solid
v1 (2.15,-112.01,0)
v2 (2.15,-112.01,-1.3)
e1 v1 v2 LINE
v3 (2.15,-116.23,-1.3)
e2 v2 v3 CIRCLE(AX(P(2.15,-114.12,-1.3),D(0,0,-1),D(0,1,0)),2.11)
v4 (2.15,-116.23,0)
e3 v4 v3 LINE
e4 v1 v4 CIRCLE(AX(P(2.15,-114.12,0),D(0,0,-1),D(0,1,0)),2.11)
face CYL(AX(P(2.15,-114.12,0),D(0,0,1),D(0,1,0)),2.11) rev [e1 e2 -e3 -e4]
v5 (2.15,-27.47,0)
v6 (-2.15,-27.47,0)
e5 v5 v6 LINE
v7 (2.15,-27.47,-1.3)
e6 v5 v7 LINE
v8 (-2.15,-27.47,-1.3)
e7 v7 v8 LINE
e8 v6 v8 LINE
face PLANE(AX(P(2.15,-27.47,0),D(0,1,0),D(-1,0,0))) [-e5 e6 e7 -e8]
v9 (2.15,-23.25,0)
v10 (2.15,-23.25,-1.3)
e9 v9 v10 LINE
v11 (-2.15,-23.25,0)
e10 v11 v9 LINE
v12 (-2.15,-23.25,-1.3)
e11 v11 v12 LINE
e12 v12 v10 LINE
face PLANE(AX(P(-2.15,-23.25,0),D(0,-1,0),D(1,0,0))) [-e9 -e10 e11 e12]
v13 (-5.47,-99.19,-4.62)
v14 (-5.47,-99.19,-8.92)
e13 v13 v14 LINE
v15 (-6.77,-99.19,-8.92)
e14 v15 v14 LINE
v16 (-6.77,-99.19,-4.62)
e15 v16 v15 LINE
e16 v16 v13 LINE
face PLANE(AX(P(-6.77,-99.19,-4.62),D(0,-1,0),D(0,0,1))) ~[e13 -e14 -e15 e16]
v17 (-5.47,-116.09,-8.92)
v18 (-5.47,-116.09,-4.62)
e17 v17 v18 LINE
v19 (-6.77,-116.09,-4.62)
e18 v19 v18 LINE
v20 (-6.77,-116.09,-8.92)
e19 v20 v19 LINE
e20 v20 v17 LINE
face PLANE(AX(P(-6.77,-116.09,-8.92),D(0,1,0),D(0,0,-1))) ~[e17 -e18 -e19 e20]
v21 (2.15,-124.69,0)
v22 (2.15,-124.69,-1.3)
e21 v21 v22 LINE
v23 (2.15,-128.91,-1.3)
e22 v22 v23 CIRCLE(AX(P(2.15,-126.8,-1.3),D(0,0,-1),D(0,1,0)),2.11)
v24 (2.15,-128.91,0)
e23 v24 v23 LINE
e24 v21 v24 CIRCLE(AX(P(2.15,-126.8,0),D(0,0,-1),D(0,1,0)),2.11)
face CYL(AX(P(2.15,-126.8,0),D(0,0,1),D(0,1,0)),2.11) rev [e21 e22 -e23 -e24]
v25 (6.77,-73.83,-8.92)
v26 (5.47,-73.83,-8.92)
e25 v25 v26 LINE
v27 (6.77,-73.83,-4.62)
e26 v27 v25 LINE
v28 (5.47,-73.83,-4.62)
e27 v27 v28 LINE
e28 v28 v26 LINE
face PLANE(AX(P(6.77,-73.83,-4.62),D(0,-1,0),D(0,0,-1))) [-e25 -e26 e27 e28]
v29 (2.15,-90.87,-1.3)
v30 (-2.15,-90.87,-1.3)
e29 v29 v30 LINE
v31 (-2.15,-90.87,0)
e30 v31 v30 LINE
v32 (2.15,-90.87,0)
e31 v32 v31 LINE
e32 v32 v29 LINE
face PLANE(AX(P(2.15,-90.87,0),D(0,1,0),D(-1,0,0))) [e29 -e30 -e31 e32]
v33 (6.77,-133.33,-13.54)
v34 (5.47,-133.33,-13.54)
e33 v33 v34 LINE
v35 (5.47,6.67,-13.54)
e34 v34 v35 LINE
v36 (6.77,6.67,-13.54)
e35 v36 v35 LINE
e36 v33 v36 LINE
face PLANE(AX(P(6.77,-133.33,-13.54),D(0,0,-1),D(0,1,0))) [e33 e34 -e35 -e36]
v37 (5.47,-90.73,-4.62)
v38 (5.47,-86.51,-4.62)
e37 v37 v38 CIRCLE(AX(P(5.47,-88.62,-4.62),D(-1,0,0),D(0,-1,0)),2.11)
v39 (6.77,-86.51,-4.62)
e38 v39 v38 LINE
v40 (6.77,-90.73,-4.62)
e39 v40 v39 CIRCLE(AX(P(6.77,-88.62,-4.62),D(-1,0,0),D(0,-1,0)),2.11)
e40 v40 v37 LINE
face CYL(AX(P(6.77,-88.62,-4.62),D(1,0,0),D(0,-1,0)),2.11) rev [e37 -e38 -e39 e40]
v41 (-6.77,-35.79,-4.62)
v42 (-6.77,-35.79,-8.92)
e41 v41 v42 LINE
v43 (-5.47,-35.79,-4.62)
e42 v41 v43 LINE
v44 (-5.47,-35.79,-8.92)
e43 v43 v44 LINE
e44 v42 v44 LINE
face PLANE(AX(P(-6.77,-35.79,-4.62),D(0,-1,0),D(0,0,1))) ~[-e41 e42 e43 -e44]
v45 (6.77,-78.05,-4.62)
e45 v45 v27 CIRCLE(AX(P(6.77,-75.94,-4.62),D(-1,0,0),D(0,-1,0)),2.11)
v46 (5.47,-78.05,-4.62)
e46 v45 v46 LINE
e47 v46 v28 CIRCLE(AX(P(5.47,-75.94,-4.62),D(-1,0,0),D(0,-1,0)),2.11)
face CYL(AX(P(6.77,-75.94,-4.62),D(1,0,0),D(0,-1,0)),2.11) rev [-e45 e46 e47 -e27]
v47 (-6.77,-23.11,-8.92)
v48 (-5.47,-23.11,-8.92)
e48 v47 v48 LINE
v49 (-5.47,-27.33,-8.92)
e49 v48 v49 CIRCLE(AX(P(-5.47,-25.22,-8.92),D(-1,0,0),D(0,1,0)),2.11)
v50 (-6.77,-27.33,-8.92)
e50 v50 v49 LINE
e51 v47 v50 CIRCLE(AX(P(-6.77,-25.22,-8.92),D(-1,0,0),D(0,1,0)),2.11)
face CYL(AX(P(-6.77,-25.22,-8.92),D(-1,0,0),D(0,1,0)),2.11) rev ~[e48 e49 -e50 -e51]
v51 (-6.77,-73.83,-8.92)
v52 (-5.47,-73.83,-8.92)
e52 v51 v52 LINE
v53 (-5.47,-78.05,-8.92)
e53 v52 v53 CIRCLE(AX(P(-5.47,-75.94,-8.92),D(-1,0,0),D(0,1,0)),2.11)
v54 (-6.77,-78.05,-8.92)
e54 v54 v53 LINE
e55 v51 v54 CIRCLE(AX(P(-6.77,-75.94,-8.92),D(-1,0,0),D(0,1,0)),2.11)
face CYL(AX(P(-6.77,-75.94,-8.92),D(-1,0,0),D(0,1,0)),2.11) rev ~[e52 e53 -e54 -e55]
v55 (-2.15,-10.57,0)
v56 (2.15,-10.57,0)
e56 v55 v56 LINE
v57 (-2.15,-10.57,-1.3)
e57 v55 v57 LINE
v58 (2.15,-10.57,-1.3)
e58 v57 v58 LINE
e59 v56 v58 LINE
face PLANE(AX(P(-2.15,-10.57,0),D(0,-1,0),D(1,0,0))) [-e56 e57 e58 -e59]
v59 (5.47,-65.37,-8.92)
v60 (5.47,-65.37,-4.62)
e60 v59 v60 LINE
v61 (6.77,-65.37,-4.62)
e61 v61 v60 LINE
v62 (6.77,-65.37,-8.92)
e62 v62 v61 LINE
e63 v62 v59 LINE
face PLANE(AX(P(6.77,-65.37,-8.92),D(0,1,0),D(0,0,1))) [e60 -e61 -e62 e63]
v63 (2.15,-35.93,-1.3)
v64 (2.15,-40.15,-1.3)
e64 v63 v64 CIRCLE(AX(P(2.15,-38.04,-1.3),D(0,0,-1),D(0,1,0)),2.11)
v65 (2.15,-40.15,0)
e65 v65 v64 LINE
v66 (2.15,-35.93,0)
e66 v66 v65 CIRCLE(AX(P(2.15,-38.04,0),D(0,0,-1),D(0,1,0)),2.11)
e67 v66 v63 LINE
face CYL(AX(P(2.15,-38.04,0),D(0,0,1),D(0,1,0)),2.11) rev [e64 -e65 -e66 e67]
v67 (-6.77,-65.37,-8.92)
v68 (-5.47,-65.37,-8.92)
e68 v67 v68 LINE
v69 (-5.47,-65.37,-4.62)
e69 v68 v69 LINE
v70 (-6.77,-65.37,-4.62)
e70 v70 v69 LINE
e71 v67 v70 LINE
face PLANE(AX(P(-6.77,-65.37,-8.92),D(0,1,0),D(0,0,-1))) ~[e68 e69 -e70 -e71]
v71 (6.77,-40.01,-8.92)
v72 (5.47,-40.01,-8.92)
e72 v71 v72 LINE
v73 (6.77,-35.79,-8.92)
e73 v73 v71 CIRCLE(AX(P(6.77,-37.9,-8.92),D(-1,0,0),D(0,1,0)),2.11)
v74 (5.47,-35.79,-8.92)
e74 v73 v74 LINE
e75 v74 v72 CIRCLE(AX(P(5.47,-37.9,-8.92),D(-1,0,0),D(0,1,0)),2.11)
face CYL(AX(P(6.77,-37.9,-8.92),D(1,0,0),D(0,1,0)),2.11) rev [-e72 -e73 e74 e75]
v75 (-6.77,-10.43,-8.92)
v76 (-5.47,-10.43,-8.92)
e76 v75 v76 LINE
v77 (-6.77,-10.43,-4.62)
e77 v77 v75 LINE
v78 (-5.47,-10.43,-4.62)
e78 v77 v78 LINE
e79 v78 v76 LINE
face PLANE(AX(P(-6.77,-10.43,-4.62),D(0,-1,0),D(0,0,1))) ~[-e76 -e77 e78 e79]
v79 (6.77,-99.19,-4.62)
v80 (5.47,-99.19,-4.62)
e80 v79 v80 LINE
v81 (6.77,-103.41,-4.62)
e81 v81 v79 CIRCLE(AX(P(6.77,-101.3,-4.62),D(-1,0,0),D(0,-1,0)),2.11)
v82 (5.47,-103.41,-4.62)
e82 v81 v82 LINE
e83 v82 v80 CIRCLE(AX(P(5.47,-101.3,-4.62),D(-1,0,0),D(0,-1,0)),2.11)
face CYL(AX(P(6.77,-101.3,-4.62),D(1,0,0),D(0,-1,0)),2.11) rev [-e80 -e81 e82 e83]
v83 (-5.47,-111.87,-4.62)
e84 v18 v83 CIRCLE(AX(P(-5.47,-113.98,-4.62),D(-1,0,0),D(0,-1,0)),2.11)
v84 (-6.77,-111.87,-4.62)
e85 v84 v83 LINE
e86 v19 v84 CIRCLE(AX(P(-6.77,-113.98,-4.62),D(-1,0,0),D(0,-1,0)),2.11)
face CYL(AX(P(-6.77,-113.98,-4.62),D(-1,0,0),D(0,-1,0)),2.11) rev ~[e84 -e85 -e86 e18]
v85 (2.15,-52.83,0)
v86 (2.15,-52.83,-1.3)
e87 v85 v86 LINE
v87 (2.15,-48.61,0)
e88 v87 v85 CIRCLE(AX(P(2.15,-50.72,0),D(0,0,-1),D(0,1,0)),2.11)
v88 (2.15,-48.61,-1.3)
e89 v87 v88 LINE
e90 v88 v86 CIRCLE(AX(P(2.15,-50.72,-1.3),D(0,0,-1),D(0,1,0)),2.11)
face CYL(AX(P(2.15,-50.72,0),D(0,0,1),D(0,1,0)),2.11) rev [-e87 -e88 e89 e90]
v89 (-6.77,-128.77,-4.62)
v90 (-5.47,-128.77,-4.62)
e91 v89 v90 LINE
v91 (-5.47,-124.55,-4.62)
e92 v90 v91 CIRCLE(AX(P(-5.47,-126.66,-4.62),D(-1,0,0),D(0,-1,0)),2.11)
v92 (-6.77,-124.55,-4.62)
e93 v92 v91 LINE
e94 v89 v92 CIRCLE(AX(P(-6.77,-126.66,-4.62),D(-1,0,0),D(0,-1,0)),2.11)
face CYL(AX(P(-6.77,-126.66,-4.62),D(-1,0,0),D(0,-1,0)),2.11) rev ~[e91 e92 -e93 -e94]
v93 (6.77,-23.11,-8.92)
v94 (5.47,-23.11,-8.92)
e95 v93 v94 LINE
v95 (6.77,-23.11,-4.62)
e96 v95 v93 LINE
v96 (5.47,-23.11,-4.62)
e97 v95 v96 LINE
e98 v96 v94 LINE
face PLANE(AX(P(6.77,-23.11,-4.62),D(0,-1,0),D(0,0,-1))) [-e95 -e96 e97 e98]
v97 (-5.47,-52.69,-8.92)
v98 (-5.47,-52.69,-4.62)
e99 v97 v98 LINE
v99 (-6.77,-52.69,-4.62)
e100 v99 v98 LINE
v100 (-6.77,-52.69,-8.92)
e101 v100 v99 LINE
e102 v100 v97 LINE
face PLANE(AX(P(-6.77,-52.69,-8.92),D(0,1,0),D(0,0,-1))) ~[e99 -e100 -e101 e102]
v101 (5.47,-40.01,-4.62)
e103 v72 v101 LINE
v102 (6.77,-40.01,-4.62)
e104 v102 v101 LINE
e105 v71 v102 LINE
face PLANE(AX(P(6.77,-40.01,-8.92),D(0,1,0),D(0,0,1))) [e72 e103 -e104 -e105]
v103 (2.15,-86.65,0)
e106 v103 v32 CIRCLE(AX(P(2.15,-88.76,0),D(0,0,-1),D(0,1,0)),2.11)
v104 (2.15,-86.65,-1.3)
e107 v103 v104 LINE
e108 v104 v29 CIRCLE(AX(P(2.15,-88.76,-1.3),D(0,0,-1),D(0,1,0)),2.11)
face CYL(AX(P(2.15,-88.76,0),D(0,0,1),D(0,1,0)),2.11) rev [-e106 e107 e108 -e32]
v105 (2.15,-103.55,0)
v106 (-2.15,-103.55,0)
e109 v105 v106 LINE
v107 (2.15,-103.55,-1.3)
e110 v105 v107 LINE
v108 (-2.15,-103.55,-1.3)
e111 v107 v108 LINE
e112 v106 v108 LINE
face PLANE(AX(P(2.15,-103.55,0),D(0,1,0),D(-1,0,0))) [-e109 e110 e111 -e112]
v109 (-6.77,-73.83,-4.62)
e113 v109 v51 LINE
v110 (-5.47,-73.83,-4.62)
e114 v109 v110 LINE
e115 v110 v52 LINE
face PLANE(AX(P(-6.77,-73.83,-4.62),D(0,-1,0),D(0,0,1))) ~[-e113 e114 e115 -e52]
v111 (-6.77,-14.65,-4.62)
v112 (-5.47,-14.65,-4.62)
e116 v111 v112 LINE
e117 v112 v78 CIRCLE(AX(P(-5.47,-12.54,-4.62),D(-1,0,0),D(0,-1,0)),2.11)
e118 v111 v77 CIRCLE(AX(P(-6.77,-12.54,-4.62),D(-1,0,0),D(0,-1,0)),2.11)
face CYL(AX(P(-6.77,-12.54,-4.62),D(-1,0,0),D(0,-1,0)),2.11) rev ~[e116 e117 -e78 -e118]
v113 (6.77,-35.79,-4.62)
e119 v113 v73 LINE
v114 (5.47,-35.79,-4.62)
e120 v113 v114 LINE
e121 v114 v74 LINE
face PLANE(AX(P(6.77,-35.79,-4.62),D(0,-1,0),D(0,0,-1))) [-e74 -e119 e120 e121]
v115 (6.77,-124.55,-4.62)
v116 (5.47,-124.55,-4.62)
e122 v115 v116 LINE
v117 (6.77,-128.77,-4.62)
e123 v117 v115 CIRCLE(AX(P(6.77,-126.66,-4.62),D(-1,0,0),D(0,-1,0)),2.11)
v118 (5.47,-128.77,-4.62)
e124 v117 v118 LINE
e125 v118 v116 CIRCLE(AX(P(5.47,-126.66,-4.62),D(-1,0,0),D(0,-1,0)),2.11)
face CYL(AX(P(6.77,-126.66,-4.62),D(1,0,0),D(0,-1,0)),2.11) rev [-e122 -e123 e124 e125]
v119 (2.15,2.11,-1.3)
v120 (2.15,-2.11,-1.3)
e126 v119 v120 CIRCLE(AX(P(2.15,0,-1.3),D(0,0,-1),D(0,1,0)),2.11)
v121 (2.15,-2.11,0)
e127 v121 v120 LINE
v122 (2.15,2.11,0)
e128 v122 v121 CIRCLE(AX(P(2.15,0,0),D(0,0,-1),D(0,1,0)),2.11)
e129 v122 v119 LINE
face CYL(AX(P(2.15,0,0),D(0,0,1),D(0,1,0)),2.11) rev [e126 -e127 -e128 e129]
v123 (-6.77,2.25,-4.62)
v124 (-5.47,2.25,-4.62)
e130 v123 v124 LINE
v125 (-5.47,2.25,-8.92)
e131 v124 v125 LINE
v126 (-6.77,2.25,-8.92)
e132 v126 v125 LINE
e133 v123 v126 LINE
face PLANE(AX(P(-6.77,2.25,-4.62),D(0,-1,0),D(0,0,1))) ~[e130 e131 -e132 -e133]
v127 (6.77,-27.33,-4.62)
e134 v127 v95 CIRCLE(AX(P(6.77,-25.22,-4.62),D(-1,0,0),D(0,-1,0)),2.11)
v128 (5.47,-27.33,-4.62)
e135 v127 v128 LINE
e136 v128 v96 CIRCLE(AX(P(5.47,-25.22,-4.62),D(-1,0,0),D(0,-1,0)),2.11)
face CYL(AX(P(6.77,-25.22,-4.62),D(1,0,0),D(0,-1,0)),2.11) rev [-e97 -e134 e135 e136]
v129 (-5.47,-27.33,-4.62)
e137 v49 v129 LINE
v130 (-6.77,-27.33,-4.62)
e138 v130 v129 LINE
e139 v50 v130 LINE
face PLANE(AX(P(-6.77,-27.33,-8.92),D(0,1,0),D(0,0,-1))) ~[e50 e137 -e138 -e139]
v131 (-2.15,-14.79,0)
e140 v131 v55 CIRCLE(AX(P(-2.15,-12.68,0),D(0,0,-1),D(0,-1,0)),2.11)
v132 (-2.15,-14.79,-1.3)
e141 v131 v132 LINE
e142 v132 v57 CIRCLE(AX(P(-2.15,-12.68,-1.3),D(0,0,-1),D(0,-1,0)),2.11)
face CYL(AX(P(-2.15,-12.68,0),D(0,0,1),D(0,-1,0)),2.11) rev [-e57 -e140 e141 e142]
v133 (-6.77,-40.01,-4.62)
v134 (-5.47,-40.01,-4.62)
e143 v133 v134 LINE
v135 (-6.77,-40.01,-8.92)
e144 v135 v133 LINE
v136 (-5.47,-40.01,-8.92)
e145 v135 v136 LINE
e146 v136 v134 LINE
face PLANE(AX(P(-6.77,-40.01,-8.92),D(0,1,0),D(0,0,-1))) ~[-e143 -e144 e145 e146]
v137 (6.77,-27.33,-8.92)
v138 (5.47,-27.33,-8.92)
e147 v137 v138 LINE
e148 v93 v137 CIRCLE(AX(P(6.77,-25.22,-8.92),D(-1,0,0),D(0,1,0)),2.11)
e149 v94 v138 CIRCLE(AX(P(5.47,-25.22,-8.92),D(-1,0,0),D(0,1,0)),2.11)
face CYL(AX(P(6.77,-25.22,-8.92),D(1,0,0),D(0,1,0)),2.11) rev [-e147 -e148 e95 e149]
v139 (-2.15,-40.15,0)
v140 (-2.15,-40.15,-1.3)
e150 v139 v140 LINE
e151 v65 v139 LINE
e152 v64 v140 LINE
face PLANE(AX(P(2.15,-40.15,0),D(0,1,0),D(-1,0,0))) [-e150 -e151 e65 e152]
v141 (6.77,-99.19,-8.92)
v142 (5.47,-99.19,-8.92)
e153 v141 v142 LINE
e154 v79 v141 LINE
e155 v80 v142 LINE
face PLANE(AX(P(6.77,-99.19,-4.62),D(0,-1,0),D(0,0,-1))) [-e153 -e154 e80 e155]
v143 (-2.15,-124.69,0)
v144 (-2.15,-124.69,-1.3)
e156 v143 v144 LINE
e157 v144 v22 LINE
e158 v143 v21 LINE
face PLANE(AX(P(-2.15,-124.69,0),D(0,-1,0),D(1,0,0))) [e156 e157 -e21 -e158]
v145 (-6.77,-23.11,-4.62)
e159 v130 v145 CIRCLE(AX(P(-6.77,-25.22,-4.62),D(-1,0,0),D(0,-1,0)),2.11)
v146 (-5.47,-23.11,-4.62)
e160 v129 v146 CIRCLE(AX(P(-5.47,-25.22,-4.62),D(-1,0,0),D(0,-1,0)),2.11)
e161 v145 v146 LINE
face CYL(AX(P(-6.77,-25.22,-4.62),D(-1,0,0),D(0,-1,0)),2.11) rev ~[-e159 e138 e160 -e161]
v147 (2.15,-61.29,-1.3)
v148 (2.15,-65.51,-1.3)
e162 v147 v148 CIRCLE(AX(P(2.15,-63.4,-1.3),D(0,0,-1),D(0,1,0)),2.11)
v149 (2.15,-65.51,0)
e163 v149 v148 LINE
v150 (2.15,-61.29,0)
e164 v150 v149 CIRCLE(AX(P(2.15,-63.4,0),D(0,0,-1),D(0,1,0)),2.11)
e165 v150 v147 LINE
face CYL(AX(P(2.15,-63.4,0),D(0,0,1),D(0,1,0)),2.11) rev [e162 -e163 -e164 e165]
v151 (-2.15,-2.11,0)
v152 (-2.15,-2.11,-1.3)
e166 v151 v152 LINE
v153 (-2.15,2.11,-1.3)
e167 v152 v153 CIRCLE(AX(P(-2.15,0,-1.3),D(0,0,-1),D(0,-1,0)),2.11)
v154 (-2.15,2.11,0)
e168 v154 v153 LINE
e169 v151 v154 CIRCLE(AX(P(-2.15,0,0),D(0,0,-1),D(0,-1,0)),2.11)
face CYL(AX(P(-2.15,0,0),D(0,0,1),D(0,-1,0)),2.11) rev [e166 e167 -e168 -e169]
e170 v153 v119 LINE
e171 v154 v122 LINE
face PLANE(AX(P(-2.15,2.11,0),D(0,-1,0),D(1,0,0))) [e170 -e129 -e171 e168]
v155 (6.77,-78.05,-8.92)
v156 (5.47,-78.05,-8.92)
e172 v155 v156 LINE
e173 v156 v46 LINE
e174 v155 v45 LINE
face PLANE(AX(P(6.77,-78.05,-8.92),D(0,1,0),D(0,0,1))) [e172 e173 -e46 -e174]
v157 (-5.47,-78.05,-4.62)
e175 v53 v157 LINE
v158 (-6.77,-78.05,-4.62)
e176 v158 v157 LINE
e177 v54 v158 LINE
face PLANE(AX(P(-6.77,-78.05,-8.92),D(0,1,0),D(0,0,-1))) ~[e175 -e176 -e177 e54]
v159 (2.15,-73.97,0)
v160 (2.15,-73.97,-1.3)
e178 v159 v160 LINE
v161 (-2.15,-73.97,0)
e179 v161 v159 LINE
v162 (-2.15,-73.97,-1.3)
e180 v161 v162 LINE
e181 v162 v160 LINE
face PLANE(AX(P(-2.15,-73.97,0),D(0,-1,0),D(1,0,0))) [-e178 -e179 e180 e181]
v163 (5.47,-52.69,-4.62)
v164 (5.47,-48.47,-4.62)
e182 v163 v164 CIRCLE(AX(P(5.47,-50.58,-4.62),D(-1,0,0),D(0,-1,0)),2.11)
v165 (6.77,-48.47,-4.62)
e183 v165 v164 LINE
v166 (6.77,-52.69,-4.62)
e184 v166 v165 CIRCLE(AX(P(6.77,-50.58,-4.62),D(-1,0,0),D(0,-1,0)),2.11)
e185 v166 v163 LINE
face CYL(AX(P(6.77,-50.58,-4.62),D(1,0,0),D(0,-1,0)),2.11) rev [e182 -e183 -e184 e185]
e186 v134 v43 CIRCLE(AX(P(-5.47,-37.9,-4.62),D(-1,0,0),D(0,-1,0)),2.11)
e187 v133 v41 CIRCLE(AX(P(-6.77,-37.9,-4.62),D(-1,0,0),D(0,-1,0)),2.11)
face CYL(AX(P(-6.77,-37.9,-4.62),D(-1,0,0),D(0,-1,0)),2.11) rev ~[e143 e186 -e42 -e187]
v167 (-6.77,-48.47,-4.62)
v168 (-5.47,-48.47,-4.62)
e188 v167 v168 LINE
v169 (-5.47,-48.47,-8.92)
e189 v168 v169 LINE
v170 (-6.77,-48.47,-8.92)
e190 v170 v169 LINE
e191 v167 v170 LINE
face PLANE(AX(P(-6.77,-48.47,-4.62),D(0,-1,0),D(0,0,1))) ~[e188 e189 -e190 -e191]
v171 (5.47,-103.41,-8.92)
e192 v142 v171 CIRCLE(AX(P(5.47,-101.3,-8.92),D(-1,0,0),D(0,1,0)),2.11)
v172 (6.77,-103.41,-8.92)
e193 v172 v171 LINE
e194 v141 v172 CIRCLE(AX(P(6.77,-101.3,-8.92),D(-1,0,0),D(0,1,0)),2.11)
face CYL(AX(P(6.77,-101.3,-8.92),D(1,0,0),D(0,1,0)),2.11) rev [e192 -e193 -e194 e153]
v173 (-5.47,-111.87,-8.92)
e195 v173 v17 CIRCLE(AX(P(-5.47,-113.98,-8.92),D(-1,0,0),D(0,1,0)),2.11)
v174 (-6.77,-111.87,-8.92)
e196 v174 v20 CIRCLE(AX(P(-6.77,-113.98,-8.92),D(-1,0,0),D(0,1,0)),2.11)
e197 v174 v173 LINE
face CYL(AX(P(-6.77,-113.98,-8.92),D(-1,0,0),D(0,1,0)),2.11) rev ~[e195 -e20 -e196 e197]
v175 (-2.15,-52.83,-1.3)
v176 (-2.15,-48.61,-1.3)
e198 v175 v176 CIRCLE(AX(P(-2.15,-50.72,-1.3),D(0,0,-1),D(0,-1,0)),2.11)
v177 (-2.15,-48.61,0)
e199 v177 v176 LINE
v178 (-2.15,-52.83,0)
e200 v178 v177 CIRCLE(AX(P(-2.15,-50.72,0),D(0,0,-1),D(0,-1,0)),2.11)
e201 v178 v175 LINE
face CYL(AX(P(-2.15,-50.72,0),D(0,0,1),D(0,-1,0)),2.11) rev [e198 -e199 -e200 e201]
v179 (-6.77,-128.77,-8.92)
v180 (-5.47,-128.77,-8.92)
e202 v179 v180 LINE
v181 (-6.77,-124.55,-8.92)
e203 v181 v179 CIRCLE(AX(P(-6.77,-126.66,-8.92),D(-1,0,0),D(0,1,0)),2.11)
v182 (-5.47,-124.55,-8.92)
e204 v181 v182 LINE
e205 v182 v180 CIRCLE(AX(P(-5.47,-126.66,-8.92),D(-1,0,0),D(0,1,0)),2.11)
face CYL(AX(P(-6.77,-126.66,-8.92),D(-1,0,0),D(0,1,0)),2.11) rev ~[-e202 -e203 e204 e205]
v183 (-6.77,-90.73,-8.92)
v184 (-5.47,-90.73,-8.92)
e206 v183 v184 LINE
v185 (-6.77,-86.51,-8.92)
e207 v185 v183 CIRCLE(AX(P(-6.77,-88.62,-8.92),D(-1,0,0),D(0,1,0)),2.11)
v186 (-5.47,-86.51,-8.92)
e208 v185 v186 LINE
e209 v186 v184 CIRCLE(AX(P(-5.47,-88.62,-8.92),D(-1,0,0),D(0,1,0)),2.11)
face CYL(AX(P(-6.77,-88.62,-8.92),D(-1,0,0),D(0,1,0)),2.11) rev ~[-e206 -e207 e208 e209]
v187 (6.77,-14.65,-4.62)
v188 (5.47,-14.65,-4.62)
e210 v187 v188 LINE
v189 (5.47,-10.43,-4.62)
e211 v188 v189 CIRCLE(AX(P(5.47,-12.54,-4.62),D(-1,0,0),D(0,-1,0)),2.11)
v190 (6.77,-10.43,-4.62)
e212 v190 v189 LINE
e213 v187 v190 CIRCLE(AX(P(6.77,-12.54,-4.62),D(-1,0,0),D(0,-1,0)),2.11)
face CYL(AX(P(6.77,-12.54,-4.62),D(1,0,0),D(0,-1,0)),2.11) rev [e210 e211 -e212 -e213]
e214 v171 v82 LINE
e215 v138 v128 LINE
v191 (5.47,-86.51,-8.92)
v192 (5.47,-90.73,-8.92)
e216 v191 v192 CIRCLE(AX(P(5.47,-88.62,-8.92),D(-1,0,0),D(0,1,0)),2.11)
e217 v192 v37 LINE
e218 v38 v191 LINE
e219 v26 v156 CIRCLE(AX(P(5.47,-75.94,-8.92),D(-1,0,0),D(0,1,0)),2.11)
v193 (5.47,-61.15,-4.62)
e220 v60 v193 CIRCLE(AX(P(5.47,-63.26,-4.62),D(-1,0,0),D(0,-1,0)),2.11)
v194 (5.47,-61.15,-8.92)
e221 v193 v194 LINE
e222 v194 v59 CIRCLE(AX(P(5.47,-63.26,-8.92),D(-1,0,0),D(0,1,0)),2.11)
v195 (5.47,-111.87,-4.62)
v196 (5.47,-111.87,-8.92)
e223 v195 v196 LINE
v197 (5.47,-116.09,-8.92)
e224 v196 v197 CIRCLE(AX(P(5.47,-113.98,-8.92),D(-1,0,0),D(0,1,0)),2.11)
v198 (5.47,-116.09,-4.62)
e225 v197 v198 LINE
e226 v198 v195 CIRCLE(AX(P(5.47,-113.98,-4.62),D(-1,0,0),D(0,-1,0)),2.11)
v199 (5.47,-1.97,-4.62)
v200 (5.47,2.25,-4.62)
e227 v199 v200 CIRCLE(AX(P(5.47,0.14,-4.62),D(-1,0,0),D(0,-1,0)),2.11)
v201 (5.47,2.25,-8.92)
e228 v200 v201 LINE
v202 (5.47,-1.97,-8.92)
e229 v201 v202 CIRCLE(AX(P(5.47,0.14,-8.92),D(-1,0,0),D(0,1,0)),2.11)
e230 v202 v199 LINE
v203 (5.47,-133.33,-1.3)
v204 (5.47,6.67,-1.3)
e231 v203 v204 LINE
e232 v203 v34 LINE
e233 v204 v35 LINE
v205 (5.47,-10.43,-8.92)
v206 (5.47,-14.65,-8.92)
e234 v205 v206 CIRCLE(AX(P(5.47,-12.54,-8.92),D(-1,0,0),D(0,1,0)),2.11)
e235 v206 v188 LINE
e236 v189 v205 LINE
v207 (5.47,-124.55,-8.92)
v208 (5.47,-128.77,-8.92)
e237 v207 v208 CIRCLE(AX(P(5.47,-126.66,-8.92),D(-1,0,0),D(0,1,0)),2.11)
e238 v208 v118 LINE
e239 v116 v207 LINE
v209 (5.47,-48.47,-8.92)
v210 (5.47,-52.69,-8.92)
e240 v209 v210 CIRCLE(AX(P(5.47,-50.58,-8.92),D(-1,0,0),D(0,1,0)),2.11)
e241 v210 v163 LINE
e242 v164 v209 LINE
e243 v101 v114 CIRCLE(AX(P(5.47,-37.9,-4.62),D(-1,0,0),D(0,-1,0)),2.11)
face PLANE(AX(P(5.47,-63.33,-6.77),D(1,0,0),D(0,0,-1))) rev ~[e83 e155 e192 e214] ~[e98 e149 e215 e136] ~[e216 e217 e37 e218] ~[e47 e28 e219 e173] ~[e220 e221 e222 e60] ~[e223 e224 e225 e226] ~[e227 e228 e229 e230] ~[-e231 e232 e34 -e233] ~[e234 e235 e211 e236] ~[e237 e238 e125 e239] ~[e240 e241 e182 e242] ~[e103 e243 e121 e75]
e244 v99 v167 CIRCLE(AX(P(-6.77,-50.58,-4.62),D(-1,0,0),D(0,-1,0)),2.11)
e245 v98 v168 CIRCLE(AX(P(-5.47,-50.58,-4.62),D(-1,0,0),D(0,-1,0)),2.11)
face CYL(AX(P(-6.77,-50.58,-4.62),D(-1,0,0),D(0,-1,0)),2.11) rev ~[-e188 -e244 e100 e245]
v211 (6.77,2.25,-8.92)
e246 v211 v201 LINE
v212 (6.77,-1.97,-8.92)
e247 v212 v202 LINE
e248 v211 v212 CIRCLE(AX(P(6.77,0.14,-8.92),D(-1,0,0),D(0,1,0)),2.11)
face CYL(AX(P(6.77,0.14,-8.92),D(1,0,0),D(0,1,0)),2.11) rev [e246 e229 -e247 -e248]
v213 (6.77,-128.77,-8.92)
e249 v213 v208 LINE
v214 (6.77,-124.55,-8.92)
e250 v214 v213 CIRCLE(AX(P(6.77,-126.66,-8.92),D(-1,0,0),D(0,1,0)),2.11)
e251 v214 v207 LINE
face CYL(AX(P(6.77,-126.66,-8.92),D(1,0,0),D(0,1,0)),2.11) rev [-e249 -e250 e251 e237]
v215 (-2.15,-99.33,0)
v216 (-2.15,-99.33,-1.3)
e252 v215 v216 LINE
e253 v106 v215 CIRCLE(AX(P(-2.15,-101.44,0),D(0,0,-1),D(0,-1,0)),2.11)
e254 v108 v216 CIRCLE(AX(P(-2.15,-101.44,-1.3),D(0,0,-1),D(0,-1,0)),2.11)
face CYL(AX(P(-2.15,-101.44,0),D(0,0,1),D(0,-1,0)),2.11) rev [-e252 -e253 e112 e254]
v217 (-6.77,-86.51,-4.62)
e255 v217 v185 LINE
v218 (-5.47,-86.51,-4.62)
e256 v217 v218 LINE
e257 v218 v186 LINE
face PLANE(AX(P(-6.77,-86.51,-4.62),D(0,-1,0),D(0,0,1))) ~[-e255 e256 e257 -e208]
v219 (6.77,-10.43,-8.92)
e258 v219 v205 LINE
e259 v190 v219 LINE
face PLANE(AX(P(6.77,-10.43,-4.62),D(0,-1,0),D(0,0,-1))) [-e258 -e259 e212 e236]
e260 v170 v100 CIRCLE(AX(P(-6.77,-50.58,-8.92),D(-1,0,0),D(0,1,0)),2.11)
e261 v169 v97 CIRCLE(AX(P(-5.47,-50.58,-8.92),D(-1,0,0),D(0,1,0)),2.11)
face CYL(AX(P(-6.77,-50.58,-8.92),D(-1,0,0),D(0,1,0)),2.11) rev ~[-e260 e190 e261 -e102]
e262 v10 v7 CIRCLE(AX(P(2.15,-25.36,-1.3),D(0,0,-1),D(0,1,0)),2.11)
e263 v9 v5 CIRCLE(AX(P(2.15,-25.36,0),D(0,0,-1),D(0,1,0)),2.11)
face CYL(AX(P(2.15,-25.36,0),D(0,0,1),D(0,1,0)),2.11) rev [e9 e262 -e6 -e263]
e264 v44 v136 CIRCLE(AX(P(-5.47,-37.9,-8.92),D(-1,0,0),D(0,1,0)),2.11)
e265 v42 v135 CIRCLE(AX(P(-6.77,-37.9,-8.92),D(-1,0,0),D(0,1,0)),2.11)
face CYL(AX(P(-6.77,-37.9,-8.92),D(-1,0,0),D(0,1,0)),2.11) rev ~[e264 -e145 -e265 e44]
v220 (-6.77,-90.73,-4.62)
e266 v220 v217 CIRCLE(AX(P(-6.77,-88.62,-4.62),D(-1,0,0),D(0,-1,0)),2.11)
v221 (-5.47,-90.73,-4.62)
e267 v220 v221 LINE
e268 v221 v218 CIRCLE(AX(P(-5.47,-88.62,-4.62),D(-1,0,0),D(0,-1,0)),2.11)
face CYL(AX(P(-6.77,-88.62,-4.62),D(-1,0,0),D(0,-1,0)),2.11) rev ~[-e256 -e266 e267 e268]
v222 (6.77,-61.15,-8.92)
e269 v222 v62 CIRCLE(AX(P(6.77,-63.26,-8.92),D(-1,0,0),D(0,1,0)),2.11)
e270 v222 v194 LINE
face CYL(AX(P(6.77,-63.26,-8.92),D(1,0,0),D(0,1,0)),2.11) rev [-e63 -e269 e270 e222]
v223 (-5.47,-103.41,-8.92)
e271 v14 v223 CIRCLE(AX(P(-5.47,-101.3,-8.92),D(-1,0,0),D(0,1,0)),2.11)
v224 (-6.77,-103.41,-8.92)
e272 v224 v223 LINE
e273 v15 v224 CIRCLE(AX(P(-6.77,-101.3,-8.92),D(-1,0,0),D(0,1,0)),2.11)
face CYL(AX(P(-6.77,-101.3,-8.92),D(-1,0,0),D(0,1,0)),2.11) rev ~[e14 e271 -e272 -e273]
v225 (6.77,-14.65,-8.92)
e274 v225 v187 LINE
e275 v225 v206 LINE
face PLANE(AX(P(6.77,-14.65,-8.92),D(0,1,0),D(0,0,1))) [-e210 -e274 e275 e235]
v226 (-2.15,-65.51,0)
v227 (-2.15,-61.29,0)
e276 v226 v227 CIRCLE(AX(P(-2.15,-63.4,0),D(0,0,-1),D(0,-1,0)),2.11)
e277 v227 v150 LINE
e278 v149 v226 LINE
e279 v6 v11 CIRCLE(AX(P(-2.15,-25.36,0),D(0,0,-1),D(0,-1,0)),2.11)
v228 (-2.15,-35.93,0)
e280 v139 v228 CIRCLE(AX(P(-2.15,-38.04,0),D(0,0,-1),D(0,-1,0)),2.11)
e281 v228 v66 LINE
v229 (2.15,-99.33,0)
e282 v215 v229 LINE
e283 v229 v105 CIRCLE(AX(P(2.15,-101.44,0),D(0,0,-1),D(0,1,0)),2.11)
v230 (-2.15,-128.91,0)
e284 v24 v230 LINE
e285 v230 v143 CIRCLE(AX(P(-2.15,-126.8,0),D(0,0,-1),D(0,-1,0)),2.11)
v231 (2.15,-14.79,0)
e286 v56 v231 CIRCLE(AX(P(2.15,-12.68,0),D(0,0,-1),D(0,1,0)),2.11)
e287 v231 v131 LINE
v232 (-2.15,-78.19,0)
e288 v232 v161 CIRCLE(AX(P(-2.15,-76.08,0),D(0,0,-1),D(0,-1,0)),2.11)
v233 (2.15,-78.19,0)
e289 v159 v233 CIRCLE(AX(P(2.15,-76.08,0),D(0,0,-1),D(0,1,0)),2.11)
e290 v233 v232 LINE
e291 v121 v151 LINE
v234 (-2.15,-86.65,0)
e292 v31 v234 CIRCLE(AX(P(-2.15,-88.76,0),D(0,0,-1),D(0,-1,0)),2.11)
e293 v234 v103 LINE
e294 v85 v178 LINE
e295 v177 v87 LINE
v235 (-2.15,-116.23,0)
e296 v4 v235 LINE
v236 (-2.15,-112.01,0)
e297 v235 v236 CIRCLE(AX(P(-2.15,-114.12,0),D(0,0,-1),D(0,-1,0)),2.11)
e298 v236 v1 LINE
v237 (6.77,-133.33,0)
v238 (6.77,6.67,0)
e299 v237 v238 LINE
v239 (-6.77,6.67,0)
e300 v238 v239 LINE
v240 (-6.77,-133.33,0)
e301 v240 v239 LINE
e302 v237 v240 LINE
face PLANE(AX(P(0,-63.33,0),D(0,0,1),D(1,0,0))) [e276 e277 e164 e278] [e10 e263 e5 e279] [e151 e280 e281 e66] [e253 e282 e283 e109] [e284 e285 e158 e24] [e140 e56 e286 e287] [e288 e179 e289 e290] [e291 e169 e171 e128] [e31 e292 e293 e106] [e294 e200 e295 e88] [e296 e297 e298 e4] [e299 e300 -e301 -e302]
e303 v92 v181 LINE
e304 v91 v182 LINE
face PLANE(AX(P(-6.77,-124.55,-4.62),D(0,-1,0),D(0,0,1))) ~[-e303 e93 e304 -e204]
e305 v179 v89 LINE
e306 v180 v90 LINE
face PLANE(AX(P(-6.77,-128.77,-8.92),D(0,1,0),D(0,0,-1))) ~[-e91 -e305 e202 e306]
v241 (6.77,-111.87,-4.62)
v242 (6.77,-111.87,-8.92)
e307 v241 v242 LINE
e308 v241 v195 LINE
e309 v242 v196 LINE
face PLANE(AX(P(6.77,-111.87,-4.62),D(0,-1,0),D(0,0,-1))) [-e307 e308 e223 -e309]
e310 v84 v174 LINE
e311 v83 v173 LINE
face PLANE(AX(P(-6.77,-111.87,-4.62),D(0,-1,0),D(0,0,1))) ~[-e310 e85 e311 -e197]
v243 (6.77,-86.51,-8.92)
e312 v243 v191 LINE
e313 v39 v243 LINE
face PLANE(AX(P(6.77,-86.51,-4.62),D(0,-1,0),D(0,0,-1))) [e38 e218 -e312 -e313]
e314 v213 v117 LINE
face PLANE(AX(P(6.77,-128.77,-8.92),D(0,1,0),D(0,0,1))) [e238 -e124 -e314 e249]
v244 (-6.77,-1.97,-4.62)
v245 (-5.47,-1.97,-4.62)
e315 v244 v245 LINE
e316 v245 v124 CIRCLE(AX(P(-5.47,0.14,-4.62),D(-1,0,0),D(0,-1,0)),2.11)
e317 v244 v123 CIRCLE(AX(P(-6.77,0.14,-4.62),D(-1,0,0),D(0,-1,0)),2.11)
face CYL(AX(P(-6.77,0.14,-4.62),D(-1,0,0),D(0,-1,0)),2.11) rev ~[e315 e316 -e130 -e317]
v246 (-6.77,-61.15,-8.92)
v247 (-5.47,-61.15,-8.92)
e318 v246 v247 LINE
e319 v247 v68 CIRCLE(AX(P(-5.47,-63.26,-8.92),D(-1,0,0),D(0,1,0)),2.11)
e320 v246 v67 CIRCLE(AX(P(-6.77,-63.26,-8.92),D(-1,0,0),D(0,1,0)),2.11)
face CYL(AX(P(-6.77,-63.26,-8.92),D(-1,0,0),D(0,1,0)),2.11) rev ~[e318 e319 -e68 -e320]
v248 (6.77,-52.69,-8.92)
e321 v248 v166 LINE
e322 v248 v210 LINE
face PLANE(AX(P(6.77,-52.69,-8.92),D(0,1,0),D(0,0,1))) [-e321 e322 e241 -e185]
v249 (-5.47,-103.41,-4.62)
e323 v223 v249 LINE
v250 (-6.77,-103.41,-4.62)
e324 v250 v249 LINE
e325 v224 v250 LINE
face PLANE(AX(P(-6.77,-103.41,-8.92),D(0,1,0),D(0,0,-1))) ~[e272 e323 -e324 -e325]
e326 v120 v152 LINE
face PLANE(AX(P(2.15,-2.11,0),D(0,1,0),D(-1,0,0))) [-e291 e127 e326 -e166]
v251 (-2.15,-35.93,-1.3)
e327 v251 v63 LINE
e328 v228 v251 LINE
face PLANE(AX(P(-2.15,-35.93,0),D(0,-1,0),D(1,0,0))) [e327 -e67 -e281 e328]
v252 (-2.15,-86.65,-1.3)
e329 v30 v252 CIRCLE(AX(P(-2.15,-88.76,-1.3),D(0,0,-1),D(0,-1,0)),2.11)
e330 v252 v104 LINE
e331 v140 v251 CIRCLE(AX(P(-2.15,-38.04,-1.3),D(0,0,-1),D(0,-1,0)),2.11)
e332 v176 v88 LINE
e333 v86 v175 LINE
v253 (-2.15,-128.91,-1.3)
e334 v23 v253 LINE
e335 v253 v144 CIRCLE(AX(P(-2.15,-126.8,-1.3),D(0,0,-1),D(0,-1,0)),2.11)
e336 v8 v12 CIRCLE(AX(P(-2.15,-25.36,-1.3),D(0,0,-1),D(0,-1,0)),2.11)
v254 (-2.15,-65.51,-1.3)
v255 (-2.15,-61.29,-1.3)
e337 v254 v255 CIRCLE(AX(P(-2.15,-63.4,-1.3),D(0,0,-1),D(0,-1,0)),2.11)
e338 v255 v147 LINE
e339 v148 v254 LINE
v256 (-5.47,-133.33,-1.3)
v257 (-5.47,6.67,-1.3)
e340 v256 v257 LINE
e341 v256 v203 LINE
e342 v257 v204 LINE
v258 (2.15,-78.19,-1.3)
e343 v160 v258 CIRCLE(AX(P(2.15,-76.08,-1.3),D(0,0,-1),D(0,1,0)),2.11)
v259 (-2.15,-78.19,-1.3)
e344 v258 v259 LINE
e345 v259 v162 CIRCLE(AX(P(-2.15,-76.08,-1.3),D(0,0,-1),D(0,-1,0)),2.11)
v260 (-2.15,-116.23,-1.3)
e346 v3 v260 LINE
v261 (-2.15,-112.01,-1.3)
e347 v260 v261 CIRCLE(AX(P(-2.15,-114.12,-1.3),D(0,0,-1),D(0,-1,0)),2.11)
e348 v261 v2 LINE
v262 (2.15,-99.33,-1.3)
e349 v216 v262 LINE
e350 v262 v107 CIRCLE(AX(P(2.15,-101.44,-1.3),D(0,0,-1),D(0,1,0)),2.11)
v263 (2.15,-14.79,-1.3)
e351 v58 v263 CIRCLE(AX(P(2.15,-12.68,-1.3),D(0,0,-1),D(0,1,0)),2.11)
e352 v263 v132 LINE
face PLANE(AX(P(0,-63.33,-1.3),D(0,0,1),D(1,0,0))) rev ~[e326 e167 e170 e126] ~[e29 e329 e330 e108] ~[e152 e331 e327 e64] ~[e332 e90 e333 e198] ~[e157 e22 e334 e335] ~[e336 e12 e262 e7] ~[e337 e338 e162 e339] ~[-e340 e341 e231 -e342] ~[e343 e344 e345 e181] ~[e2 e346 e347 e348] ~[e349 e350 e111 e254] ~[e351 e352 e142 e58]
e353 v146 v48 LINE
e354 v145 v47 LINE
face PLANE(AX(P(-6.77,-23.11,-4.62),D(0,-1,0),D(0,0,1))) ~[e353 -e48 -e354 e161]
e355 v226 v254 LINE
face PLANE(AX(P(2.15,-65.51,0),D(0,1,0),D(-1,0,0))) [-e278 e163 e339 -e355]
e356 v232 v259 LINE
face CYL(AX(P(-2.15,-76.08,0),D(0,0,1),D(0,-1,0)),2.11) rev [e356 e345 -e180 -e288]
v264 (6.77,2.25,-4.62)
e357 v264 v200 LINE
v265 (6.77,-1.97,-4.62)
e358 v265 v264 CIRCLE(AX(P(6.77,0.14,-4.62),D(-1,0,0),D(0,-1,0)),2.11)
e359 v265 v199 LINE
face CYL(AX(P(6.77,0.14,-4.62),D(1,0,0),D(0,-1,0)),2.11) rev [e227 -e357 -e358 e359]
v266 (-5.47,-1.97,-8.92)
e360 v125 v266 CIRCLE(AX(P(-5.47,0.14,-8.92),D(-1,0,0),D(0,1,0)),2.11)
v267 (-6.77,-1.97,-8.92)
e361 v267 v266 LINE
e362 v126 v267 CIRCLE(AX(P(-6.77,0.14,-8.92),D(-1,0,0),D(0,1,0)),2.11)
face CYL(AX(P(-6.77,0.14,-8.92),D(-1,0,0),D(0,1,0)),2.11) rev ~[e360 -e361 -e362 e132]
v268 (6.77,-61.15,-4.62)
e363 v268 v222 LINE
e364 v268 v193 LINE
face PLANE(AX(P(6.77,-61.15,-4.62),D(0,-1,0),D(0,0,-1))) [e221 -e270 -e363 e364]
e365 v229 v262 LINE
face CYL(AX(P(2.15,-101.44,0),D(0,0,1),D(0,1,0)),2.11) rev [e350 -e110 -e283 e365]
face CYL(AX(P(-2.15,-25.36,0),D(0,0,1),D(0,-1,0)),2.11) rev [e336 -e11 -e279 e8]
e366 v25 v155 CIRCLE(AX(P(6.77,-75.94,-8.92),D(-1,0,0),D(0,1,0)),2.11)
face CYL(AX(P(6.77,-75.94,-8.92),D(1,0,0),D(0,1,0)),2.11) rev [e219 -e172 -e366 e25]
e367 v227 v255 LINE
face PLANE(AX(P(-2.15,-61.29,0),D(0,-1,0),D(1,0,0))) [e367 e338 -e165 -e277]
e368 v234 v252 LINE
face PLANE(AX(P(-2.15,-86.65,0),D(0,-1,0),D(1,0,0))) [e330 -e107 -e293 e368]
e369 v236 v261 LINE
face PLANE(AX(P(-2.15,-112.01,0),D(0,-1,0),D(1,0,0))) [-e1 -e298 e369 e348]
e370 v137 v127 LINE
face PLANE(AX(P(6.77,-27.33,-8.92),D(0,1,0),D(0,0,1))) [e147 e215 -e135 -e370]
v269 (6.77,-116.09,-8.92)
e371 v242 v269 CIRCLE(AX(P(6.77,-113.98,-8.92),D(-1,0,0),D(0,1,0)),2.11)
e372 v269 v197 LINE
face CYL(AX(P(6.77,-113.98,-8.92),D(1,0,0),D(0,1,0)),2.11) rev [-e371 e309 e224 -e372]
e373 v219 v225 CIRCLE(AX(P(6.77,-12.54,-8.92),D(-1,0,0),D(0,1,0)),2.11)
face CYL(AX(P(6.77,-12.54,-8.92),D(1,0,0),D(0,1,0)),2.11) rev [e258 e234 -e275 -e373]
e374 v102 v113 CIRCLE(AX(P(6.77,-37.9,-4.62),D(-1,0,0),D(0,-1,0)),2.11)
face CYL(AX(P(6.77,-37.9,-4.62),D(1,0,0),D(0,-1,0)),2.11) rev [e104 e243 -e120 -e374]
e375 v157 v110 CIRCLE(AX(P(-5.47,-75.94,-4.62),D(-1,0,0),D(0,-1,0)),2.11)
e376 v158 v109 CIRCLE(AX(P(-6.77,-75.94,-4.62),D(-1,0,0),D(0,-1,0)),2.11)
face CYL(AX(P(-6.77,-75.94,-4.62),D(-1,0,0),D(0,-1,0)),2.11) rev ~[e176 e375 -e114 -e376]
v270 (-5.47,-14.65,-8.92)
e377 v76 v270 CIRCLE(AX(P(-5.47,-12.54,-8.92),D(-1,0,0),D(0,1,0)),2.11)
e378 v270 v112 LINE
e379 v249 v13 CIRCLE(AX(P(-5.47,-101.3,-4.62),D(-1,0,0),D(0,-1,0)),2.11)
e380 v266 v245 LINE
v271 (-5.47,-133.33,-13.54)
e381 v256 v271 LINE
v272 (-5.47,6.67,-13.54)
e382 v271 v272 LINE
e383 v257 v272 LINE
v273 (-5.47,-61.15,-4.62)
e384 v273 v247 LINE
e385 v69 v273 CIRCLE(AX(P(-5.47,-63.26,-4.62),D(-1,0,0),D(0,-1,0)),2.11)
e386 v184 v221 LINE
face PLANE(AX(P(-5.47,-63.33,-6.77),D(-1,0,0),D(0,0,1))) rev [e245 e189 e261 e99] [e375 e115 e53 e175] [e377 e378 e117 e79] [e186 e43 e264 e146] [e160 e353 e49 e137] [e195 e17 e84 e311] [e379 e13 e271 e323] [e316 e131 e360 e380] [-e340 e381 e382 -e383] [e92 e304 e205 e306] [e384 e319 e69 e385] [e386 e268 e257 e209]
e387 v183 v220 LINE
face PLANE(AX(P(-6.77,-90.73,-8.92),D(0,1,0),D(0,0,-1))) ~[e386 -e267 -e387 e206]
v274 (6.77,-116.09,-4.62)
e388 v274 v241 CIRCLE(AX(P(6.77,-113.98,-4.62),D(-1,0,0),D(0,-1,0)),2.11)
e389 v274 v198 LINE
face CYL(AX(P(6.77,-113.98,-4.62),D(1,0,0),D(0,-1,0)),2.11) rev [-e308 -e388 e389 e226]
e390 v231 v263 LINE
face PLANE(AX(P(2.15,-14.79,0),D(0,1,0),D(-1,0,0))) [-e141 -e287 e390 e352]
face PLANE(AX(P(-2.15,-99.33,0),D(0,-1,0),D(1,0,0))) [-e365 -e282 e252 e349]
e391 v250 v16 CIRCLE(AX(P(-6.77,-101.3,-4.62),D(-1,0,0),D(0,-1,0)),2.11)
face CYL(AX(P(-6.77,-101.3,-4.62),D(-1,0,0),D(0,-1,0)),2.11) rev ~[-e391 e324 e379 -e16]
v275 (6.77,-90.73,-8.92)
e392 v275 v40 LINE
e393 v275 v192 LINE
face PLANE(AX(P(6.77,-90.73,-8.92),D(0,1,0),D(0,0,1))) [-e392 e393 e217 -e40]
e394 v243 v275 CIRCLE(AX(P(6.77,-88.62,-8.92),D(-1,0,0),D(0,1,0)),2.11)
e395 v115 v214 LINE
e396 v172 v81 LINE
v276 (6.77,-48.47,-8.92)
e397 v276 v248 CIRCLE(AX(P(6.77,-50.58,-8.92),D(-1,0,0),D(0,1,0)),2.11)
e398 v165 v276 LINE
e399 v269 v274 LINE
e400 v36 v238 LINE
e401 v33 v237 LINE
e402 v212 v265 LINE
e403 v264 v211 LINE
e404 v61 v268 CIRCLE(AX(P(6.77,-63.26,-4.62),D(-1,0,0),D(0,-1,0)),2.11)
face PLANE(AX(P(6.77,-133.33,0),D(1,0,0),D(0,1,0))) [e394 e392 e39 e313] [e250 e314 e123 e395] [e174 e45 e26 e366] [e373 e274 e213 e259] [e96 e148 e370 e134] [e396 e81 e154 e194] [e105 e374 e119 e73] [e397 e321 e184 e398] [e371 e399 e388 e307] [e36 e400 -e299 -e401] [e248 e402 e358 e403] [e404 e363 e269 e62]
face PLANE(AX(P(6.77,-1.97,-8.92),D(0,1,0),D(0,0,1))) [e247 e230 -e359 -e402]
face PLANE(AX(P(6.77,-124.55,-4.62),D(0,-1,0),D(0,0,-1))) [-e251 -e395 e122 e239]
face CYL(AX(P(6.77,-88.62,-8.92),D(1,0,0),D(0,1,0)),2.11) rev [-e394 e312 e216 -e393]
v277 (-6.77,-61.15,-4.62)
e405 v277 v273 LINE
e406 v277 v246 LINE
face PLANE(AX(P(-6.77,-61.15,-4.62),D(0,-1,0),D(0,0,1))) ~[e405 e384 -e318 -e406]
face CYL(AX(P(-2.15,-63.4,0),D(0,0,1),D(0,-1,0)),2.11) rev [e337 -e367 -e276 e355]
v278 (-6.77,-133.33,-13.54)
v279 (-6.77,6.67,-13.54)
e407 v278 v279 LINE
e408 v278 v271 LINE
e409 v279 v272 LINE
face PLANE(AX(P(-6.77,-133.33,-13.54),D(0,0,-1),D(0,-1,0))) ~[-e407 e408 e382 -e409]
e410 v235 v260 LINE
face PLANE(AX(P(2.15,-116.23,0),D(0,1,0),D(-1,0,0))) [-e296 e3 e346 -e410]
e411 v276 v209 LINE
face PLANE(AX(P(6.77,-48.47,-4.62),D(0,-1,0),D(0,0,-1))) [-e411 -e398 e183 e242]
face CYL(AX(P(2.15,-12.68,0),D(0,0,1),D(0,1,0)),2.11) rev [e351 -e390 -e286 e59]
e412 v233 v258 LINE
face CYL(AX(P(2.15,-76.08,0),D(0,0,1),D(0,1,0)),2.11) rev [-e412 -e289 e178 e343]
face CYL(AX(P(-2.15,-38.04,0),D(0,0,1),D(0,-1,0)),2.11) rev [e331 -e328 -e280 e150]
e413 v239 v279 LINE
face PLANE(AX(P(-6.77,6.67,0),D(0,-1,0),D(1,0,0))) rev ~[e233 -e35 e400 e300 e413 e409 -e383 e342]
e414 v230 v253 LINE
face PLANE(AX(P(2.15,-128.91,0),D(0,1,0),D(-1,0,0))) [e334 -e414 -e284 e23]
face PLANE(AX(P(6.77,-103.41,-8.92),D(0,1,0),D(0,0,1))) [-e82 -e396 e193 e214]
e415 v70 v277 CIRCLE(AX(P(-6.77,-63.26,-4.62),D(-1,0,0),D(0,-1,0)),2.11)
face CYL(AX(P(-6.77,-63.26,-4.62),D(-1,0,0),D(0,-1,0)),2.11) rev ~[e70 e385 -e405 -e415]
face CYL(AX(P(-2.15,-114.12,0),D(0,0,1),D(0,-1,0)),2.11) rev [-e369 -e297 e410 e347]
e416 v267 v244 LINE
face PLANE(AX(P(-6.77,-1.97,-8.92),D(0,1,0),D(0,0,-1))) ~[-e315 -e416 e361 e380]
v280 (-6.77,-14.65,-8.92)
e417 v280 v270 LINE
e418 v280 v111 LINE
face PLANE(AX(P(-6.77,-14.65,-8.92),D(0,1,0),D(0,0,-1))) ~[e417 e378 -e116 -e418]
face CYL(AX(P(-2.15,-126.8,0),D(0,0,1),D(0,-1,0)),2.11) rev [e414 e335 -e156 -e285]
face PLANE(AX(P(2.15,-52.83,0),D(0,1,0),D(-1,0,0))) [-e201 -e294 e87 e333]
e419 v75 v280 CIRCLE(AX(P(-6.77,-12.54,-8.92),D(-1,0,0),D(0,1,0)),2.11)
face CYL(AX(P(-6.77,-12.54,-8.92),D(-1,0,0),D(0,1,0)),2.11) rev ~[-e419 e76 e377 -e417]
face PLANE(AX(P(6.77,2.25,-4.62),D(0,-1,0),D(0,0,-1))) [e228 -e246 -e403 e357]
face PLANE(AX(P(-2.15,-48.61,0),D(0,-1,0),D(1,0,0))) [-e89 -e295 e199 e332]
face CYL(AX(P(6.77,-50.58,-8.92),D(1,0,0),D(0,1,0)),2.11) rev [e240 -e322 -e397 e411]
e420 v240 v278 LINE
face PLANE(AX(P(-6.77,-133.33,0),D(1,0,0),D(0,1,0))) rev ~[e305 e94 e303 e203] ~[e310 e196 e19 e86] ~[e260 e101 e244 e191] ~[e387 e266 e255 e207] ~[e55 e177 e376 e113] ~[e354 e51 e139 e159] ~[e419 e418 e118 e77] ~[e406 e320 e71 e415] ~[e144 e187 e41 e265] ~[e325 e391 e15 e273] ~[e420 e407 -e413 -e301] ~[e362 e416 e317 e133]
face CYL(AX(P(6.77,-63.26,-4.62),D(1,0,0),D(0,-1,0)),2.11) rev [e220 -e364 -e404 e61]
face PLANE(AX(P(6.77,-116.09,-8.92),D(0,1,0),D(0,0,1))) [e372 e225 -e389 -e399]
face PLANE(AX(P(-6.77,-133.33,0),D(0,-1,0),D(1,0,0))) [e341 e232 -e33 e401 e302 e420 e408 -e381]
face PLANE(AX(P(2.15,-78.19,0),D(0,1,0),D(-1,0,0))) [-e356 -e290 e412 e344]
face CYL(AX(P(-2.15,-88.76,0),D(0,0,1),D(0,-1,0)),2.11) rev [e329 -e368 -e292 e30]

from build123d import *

# Parameters (mm, degrees)
SKETCH1_W           = 13.54
SKETCH1_H           = 140
BOSS_EXTRUDE1_DEPTH = 1.3
SKETCH5_W           = 13.54
SKETCH5_H           = 140
BOSS_EXTRUDE2_DEPTH = 1.3


with BuildPart() as part:
    # Sketch1 → Boss-Extrude1 (new body)
    with BuildSketch(Plane.XY):
        with Locations((0, -63.33)):
            Rectangle(SKETCH1_W, SKETCH1_H)
        with BuildLine():
            Line((-2.15, 2.11), (2.15, 2.11))
            ThreePointArc((2.15, 2.11), (4.26, 0), (2.15, -2.11))
            Line((2.15, -2.11), (-2.15, -2.11))
            ThreePointArc((-2.15, -2.11), (-4.26, 0), (-2.15, 2.11))
        make_face(mode=Mode.SUBTRACT)
        with BuildLine():
            Line((-2.15, -10.57), (2.15, -10.57))
            ThreePointArc((2.15, -10.57), (4.26, -12.68), (2.15, -14.79))
            Line((2.15, -14.79), (-2.15, -14.79))
            ThreePointArc((-2.15, -14.79), (-4.26, -12.68), (-2.15, -10.57))
        make_face(mode=Mode.SUBTRACT)
        with BuildLine():
            Line((-2.15, -23.25), (2.15, -23.25))
            ThreePointArc((2.15, -23.25), (4.26, -25.36), (2.15, -27.47))
            Line((2.15, -27.47), (-2.15, -27.47))
            ThreePointArc((-2.15, -27.47), (-4.26, -25.36), (-2.15, -23.25))
        make_face(mode=Mode.SUBTRACT)
        with BuildLine():
            Line((-2.15, -35.93), (2.15, -35.93))
            ThreePointArc((2.15, -35.93), (4.26, -38.04), (2.15, -40.15))
            Line((2.15, -40.15), (-2.15, -40.15))
            ThreePointArc((-2.15, -40.15), (-4.26, -38.04), (-2.15, -35.93))
        make_face(mode=Mode.SUBTRACT)
        with BuildLine():
            Line((-2.15, -48.61), (2.15, -48.61))
            ThreePointArc((2.15, -48.61), (4.26, -50.72), (2.15, -52.83))
            Line((2.15, -52.83), (-2.15, -52.83))
            ThreePointArc((-2.15, -52.83), (-4.26, -50.72), (-2.15, -48.61))
        make_face(mode=Mode.SUBTRACT)
        with BuildLine():
            Line((-2.15, -61.29), (2.15, -61.29))
            ThreePointArc((2.15, -61.29), (4.26, -63.4), (2.15, -65.51))
            Line((2.15, -65.51), (-2.15, -65.51))
            ThreePointArc((-2.15, -65.51), (-4.26, -63.4), (-2.15, -61.29))
        make_face(mode=Mode.SUBTRACT)
        with BuildLine():
            Line((-2.15, -73.97), (2.15, -73.97))
            ThreePointArc((2.15, -73.97), (4.26, -76.08), (2.15, -78.19))
            Line((2.15, -78.19), (-2.15, -78.19))
            ThreePointArc((-2.15, -78.19), (-4.26, -76.08), (-2.15, -73.97))
        make_face(mode=Mode.SUBTRACT)
        with BuildLine():
            Line((-2.15, -86.65), (2.15, -86.65))
            ThreePointArc((2.15, -86.65), (4.26, -88.76), (2.15, -90.87))
            Line((2.15, -90.87), (-2.15, -90.87))
            ThreePointArc((-2.15, -90.87), (-4.26, -88.76), (-2.15, -86.65))
        make_face(mode=Mode.SUBTRACT)
        with BuildLine():
            Line((-2.15, -99.33), (2.15, -99.33))
            ThreePointArc((2.15, -99.33), (4.26, -101.44), (2.15, -103.55))
            Line((2.15, -103.55), (-2.15, -103.55))
            ThreePointArc((-2.15, -103.55), (-4.26, -101.44), (-2.15, -99.33))
        make_face(mode=Mode.SUBTRACT)
        with BuildLine():
            Line((-2.15, -112.01), (2.15, -112.01))
            ThreePointArc((2.15, -112.01), (4.26, -114.12), (2.15, -116.23))
            Line((2.15, -116.23), (-2.15, -116.23))
            ThreePointArc((-2.15, -116.23), (-4.26, -114.12), (-2.15, -112.01))
        make_face(mode=Mode.SUBTRACT)
        with BuildLine():
            Line((-2.15, -124.69), (2.15, -124.69))
            ThreePointArc((2.15, -124.69), (4.26, -126.8), (2.15, -128.91))
            Line((2.15, -128.91), (-2.15, -128.91))
            ThreePointArc((-2.15, -128.91), (-4.26, -126.8), (-2.15, -124.69))
        make_face(mode=Mode.SUBTRACT)
    extrude(amount=-BOSS_EXTRUDE1_DEPTH)

    # Sketch5 → Boss-Extrude2 (add)
    with BuildSketch(Plane(origin=(6.77, 0, 0), x_dir=(0, 0, -1), z_dir=(1, 0, 0))):
        with Locations((6.77, -63.33)):
            Rectangle(SKETCH5_W, SKETCH5_H)
        with BuildLine():
            Line((4.62, 2.25), (8.92, 2.25))
            ThreePointArc((8.92, 2.25), (11.03, 0.14), (8.92, -1.97))
            Line((8.92, -1.97), (4.62, -1.97))
            ThreePointArc((4.62, -1.97), (2.51, 0.14), (4.62, 2.25))
        make_face(mode=Mode.SUBTRACT)
        with BuildLine():
            Line((4.62, -10.43), (8.92, -10.43))
            ThreePointArc((8.92, -10.43), (11.03, -12.54), (8.92, -14.65))
            Line((8.92, -14.65), (4.62, -14.65))
            ThreePointArc((4.62, -14.65), (2.51, -12.54), (4.62, -10.43))
        make_face(mode=Mode.SUBTRACT)
        with BuildLine():
            Line((4.62, -23.11), (8.92, -23.11))
            ThreePointArc((8.92, -23.11), (11.03, -25.22), (8.92, -27.33))
            Line((8.92, -27.33), (4.62, -27.33))
            ThreePointArc((4.62, -27.33), (2.51, -25.22), (4.62, -23.11))
        make_face(mode=Mode.SUBTRACT)
        with BuildLine():
            Line((4.62, -35.79), (8.92, -35.79))
            ThreePointArc((8.92, -35.79), (11.03, -37.9), (8.92, -40.01))
            Line((8.92, -40.01), (4.62, -40.01))
            ThreePointArc((4.62, -40.01), (2.51, -37.9), (4.62, -35.79))
        make_face(mode=Mode.SUBTRACT)
        with BuildLine():
            Line((4.62, -48.47), (8.92, -48.47))
            ThreePointArc((8.92, -48.47), (11.03, -50.58), (8.92, -52.69))
            Line((8.92, -52.69), (4.62, -52.69))
            ThreePointArc((4.62, -52.69), (2.51, -50.58), (4.62, -48.47))
        make_face(mode=Mode.SUBTRACT)
        with BuildLine():
            Line((4.62, -61.15), (8.92, -61.15))
            ThreePointArc((8.92, -61.15), (11.03, -63.26), (8.92, -65.37))
            Line((8.92, -65.37), (4.62, -65.37))
            ThreePointArc((4.62, -65.37), (2.51, -63.26), (4.62, -61.15))
        make_face(mode=Mode.SUBTRACT)
        with BuildLine():
            Line((4.62, -73.83), (8.92, -73.83))
            ThreePointArc((8.92, -73.83), (11.03, -75.94), (8.92, -78.05))
            Line((8.92, -78.05), (4.62, -78.05))
            ThreePointArc((4.62, -78.05), (2.51, -75.94), (4.62, -73.83))
        make_face(mode=Mode.SUBTRACT)
        with BuildLine():
            Line((4.62, -86.51), (8.92, -86.51))
            ThreePointArc((8.92, -86.51), (11.03, -88.62), (8.92, -90.73))
            Line((8.92, -90.73), (4.62, -90.73))
            ThreePointArc((4.62, -90.73), (2.51, -88.62), (4.62, -86.51))
        make_face(mode=Mode.SUBTRACT)
        with BuildLine():
            Line((4.62, -99.19), (8.92, -99.19))
            ThreePointArc((8.92, -99.19), (11.03, -101.3), (8.92, -103.41))
            Line((8.92, -103.41), (4.62, -103.41))
            ThreePointArc((4.62, -103.41), (2.51, -101.3), (4.62, -99.19))
        make_face(mode=Mode.SUBTRACT)
        with BuildLine():
            Line((4.62, -111.87), (8.92, -111.87))
            ThreePointArc((8.92, -111.87), (11.03, -113.98), (8.92, -116.09))
            Line((8.92, -116.09), (4.62, -116.09))
            ThreePointArc((4.62, -116.09), (2.51, -113.98), (4.62, -111.87))
        make_face(mode=Mode.SUBTRACT)
        with BuildLine():
            Line((4.62, -124.55), (8.92, -124.55))
            ThreePointArc((8.92, -124.55), (11.03, -126.66), (8.92, -128.77))
            Line((8.92, -128.77), (4.62, -128.77))
            ThreePointArc((4.62, -128.77), (2.51, -126.66), (4.62, -124.55))
        make_face(mode=Mode.SUBTRACT)
    boss_extrude2 = extrude(amount=-BOSS_EXTRUDE2_DEPTH)

    # Mirror1: Boss-Extrude2 across plane
    add(boss_extrude2.mirror(Plane(origin=(0, 0, 0), x_dir=(0, 0, 1), z_dir=(1, 0, 0))))


solid = part.part
